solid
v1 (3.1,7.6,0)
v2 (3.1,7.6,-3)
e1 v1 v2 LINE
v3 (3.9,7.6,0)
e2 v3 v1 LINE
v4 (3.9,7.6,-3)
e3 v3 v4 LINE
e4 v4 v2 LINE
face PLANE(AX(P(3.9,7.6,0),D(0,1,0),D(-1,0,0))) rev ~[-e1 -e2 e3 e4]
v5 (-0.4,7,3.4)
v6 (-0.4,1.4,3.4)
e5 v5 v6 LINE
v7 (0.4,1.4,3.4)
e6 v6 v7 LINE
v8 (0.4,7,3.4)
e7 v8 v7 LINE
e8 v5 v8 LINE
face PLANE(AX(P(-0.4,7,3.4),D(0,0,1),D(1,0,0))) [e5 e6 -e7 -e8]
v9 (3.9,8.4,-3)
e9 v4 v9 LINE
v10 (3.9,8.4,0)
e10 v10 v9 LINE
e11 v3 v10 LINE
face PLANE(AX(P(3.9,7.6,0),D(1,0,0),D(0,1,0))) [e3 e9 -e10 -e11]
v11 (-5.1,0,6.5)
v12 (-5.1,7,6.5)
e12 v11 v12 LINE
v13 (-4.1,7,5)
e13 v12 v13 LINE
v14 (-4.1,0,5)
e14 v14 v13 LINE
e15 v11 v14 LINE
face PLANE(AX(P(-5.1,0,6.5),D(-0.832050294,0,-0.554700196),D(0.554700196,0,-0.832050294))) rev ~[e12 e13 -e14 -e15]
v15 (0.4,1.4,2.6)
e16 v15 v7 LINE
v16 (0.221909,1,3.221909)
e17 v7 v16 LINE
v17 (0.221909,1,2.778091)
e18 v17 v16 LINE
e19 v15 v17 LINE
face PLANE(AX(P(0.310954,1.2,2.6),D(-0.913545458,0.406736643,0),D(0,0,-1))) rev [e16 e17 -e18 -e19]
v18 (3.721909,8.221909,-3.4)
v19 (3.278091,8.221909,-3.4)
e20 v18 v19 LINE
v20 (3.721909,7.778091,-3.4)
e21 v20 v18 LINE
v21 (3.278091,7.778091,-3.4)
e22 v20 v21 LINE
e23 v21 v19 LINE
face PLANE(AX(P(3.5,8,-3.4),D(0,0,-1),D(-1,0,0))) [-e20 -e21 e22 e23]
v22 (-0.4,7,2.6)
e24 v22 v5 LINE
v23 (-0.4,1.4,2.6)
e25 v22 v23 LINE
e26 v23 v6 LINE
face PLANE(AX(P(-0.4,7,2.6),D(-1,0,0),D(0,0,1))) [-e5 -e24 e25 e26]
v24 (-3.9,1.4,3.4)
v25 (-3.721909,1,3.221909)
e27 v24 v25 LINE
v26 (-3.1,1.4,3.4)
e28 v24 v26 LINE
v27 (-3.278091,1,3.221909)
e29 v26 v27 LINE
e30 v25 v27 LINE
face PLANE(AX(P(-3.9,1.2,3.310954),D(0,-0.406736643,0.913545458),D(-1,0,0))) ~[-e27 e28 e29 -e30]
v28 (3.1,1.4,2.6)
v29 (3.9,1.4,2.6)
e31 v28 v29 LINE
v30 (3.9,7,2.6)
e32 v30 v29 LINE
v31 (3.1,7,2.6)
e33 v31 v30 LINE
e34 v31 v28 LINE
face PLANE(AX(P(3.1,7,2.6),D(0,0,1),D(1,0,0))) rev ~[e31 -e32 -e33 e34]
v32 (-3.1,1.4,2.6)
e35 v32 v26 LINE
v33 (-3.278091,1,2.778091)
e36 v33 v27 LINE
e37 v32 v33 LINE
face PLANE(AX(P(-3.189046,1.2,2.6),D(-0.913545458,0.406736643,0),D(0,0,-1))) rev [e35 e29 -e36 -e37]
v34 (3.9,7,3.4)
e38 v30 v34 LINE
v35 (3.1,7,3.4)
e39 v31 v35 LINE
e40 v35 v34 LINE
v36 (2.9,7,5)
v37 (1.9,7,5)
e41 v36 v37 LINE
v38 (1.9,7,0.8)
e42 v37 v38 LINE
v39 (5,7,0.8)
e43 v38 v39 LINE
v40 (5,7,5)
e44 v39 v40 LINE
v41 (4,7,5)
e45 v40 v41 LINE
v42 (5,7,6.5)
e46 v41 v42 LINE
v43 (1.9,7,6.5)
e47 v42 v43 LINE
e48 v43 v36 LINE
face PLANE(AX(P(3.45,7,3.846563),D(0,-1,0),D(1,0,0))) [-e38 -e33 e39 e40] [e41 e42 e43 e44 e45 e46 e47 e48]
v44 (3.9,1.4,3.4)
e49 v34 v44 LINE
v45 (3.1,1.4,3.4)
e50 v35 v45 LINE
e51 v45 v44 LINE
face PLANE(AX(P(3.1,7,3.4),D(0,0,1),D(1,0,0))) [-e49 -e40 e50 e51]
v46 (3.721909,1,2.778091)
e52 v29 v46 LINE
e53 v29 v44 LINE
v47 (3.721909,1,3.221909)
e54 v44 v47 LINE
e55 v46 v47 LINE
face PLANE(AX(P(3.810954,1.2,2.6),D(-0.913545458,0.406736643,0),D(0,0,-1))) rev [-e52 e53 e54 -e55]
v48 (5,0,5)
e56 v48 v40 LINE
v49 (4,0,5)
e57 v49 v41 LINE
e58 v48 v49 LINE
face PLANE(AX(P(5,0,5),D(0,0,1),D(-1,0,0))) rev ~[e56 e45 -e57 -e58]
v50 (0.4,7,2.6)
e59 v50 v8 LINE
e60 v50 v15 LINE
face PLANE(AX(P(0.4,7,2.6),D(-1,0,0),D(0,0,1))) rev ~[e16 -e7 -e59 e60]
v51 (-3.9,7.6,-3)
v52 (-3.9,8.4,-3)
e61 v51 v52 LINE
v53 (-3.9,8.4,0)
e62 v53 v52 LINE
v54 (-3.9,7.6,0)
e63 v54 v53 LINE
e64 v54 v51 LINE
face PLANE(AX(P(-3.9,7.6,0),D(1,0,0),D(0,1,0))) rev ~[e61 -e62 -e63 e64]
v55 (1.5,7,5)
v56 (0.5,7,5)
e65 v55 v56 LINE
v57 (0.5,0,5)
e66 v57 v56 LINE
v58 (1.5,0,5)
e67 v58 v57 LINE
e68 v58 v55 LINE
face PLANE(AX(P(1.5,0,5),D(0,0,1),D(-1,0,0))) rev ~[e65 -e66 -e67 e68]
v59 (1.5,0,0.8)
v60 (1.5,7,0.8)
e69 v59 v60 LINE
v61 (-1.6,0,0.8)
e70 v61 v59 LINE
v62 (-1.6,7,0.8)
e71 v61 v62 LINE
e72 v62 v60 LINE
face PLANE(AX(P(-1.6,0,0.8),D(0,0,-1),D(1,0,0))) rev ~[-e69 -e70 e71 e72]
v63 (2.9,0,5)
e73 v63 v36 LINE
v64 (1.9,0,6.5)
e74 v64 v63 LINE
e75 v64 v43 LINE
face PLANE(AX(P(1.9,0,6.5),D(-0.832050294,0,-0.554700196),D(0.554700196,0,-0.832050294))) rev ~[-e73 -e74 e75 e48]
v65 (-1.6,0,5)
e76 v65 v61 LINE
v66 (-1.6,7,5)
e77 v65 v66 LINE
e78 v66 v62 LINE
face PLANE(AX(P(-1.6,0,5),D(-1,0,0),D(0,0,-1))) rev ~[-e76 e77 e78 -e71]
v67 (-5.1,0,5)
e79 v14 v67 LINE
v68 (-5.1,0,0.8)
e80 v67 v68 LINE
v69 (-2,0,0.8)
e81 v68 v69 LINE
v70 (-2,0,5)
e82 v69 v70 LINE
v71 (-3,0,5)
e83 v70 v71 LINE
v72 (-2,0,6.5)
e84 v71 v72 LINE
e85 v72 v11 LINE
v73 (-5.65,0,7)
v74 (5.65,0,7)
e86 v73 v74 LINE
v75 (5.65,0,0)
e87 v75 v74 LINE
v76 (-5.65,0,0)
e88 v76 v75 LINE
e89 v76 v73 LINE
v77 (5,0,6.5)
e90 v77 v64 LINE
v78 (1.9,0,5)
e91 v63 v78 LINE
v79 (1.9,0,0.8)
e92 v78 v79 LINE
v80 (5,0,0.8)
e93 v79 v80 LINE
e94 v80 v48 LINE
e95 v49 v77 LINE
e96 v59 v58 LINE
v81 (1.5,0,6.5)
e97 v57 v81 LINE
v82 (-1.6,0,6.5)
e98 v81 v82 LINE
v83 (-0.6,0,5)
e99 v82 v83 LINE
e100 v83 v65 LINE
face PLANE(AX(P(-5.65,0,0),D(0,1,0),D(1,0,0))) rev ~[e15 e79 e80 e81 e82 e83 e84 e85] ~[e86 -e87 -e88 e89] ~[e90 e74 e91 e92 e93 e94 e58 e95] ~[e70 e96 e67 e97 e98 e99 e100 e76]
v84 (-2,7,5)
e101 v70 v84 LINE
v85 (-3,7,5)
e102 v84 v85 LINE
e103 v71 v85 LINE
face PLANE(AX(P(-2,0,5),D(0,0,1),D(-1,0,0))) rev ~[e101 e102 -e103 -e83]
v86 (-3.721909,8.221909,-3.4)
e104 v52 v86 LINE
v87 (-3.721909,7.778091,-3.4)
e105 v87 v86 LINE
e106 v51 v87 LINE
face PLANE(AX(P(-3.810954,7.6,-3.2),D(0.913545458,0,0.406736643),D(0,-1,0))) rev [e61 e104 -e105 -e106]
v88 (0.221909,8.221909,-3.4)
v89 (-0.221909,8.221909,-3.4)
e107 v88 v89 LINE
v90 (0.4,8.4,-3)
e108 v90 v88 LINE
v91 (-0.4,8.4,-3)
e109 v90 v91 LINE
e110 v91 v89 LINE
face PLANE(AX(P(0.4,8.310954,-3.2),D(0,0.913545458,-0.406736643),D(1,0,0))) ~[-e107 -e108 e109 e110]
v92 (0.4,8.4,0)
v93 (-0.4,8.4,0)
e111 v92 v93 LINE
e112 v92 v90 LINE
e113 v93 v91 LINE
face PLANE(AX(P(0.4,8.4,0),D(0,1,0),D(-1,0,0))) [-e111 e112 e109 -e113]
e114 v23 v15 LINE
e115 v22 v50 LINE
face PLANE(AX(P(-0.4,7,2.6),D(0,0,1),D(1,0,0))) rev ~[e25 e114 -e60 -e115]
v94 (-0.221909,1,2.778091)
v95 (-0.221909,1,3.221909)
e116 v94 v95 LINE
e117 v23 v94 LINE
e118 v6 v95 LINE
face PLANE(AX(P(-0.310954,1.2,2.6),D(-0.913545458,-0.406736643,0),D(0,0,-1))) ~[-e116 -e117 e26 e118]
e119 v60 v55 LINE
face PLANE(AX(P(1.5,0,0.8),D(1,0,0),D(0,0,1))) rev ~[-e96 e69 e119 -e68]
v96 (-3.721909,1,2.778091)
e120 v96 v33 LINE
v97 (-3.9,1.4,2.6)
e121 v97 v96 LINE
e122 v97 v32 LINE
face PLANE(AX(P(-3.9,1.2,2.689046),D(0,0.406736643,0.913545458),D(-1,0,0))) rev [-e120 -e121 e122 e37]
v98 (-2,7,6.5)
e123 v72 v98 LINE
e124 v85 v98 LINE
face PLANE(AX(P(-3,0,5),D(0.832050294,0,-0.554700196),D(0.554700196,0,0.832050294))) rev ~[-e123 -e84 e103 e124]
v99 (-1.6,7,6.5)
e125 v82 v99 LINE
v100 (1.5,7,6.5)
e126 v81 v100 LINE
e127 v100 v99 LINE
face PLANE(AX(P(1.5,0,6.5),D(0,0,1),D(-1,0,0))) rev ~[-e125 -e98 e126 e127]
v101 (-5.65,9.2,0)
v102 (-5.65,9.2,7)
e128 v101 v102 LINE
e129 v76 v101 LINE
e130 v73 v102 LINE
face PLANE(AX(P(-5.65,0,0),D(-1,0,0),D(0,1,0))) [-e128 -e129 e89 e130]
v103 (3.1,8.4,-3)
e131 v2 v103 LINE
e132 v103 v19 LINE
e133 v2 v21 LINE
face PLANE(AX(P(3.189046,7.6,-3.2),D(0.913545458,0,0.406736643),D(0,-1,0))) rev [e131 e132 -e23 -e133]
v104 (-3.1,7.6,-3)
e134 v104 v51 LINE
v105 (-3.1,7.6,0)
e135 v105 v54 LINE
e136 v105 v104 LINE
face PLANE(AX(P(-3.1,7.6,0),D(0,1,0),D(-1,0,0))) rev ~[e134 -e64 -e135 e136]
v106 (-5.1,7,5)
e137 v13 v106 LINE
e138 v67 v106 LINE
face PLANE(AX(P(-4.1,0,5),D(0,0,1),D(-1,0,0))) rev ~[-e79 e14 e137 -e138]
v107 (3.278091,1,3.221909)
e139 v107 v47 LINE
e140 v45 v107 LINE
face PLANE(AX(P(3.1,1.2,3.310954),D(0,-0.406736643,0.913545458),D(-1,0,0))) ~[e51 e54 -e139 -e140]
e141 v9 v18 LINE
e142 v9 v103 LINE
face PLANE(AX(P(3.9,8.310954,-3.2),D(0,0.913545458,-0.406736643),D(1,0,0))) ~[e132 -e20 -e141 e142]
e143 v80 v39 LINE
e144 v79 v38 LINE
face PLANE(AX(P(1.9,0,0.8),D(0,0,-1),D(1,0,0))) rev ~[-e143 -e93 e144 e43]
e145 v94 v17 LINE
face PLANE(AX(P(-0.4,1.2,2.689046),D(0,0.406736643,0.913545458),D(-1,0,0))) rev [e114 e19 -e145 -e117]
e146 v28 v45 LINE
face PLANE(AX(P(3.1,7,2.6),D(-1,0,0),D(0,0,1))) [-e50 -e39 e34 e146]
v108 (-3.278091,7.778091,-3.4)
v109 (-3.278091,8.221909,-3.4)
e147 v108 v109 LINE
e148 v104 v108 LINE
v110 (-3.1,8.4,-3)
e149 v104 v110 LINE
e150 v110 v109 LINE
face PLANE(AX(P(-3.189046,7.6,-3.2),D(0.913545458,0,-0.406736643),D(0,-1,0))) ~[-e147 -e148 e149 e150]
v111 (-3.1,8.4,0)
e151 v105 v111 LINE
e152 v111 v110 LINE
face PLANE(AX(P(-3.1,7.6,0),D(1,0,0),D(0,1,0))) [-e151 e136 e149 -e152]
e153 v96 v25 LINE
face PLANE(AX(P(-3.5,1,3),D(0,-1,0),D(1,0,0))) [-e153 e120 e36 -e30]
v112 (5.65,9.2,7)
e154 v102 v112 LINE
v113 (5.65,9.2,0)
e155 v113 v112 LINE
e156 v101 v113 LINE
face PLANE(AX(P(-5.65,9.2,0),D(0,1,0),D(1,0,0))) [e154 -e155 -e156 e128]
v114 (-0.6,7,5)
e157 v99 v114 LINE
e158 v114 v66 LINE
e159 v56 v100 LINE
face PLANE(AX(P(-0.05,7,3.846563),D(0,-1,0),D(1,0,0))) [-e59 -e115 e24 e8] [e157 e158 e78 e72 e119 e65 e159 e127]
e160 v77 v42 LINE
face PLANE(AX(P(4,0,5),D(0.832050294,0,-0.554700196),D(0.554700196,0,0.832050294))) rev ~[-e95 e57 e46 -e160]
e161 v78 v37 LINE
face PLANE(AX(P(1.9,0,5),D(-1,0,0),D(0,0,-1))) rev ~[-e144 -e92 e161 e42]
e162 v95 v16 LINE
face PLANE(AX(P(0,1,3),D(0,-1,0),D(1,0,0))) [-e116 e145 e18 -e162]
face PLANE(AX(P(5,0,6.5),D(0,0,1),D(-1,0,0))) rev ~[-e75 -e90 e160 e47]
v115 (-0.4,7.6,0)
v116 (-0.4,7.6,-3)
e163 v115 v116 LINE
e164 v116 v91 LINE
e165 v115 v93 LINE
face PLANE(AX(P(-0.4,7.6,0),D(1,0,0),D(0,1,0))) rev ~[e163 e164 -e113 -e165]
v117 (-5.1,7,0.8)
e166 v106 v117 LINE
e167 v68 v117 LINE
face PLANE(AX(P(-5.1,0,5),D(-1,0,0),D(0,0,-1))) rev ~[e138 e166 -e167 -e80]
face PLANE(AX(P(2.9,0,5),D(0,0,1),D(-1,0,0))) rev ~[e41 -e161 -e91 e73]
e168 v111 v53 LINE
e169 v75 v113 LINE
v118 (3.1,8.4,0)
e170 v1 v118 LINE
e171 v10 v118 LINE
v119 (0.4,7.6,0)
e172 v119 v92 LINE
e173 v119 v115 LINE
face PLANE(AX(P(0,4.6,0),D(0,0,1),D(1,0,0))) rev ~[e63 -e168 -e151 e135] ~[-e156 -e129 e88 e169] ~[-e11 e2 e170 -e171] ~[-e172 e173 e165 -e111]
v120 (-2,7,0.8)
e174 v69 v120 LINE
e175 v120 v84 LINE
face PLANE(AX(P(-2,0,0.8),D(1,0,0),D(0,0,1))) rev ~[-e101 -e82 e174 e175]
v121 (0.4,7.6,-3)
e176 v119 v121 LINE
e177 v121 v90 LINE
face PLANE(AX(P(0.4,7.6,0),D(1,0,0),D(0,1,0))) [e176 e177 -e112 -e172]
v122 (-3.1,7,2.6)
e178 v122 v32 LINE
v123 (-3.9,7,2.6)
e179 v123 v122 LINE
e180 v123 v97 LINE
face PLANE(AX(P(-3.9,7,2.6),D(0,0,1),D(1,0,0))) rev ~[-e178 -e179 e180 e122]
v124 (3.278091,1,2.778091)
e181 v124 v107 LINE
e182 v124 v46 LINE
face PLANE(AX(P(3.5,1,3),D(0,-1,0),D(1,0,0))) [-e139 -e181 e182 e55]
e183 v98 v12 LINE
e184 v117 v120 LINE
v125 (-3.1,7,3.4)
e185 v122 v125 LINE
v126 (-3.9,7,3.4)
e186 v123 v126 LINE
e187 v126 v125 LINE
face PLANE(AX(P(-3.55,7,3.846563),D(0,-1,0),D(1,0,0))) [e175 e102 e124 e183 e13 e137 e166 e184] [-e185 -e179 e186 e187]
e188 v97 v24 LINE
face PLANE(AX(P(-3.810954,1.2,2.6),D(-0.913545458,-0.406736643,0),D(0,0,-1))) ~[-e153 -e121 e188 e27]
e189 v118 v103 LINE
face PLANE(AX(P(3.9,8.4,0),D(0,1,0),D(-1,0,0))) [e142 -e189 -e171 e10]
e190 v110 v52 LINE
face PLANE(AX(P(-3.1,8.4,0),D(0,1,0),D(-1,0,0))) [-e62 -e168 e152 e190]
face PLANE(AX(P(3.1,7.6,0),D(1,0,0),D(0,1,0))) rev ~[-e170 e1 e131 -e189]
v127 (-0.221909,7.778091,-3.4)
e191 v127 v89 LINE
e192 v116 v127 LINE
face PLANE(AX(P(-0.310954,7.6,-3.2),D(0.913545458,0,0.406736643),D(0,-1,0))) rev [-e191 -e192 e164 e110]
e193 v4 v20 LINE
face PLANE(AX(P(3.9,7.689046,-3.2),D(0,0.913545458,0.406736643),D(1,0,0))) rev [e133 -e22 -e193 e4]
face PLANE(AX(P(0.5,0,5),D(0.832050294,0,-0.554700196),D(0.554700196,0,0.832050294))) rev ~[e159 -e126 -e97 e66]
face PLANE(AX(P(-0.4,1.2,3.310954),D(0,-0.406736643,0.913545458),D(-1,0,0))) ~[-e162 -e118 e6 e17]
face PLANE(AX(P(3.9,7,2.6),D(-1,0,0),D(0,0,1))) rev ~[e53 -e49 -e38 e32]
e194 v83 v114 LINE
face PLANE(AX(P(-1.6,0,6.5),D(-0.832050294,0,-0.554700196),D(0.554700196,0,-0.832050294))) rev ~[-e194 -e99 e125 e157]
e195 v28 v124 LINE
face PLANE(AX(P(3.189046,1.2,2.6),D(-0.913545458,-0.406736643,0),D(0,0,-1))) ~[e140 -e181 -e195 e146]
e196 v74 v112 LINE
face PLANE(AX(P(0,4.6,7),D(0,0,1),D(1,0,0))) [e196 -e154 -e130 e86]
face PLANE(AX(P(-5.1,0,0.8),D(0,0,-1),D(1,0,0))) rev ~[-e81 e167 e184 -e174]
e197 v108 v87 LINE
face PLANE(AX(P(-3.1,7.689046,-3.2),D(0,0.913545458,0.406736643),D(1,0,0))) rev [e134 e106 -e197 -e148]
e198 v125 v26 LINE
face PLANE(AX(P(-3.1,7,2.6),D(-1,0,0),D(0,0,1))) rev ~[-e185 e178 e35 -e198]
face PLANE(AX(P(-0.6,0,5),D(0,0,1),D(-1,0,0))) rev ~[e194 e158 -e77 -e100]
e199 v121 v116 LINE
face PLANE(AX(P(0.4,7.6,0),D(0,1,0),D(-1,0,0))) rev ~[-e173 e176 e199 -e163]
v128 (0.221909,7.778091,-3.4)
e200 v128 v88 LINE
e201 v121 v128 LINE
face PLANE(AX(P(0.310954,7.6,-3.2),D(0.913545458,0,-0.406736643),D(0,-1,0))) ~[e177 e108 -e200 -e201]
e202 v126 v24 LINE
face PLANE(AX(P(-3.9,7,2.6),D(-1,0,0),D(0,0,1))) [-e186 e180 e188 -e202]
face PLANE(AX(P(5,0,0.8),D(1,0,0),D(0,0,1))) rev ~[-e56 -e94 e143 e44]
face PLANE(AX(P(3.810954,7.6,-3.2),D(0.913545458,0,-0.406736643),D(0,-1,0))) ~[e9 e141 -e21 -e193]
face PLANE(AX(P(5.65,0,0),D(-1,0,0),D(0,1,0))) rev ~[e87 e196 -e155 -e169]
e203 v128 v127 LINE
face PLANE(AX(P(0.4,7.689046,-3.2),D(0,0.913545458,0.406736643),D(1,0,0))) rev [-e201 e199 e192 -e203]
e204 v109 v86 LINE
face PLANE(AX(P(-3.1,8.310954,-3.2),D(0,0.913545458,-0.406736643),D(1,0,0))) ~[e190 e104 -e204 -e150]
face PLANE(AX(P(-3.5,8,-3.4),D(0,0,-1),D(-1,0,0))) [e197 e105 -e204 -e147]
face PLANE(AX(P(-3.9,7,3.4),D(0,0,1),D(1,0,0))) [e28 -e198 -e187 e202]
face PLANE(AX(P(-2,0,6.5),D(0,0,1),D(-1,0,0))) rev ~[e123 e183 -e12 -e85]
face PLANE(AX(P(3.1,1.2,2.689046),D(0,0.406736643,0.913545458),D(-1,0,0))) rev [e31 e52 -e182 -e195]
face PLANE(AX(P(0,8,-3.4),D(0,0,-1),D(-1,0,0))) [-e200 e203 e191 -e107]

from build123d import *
from OCP.BRepFilletAPI import BRepFilletAPI_MakeChamfer

# Parameters (mm, degrees)
SKETCH_1_W                          = 11.3
SKETCH_1_H                          = 9.2
EXTRUDE_1_DEPTH                     = 7
SKETCH_2_W                          = 0.8
SKETCH_2_H                          = 0.8
EXTRUDE_2_DEPTH                     = 3.4
CHAMFER_1_SIZE                      = 0.4
CHAMFER_1_SIZE2                     = 0.178091474
CUT_EXTRUDE_1_DEPTH                 = 7
PATTERN_LINEAR_1_COUNT              = 3
PATTERN_LINEAR_1_PITCH              = 3.5
CHAMFER_1_OF_PATTERN_LINEAR_1_SIZE  = 0.4
CHAMFER_1_OF_PATTERN_LINEAR_1_SIZE2 = 0.178091474
PATTERN_LINEAR_2_COUNT              = 3
PATTERN_LINEAR_2_PITCH              = 3.5
SKETCH_4_W                          = 0.8
SKETCH_4_H                          = 0.8
EXTRUDE_3_DEPTH                     = 6
CHAMFER_2_SIZE                      = 0.4
CHAMFER_2_SIZE2                     = 0.178091474
PATTERN_LINEAR_3_COUNT              = 3
PATTERN_LINEAR_3_PITCH              = 3.5
CHAMFER_2_OF_PATTERN_LINEAR_3_SIZE  = 0.4
CHAMFER_2_OF_PATTERN_LINEAR_3_SIZE2 = 0.178091474


with BuildPart() as part:
    # Эскиз1 → Бобышка-Вытянуть1 (new body)
    with BuildSketch(Plane.XY):
        with Locations((0, 4.6)):
            Rectangle(SKETCH_1_W, SKETCH_1_H)
    extrude(amount=EXTRUDE_1_DEPTH)

    # Эскиз2 → Бобышка-Вытянуть2 (add)
    with BuildSketch(Plane(origin=(0, 0, 0), x_dir=(-1, 0, 0), z_dir=(0, 0, -1))):
        with Locations((-3.5, 8)):
            Rectangle(SKETCH_2_W, SKETCH_2_H)
    extrude_2 = extrude(amount=EXTRUDE_2_DEPTH)

    # Фаска1: one chamfer whose edges measure the first distance from different faces: ONE call of the kernel's chamfer builder (chamfer() names one face for all edges)
    chamfer_1_edges_1 = [part.edges().sort_by_distance(p)[0] for p in [
        (3.1, 8, -3.4),
    ]]
    chamfer_1_side_1 = [part.faces().sort_by_distance(p)[0] for p in [
        (3.1, 8, -1.7),
    ]]
    chamfer_1_edges_2 = [part.edges().sort_by_distance(p)[0] for p in [
        (3.5, 8.4, -3.4),
    ]]
    chamfer_1_side_2 = [part.faces().sort_by_distance(p)[0] for p in [
        (3.5, 8.4, -1.7),
    ]]
    chamfer_1_edges_3 = [part.edges().sort_by_distance(p)[0] for p in [
        (3.9, 8, -3.4),
    ]]
    chamfer_1_side_3 = [part.faces().sort_by_distance(p)[0] for p in [
        (3.9, 8, -1.7),
    ]]
    chamfer_1_edges_4 = [part.edges().sort_by_distance(p)[0] for p in [
        (3.5, 7.6, -3.4),
    ]]
    chamfer_1_side_4 = [part.faces().sort_by_distance(p)[0] for p in [
        (3.5, 7.6, -1.7),
    ]]
    chamfer_1 = BRepFilletAPI_MakeChamfer(part.part.solid().wrapped)
    for e in chamfer_1_edges_1:
        chamfer_1.Add(CHAMFER_1_SIZE, CHAMFER_1_SIZE2, e.wrapped, chamfer_1_side_1[0].wrapped)  # the first distance lies on this face
    for e in chamfer_1_edges_2:
        chamfer_1.Add(CHAMFER_1_SIZE, CHAMFER_1_SIZE2, e.wrapped, chamfer_1_side_2[0].wrapped)  # the first distance lies on this face
    for e in chamfer_1_edges_3:
        chamfer_1.Add(CHAMFER_1_SIZE, CHAMFER_1_SIZE2, e.wrapped, chamfer_1_side_3[0].wrapped)  # the first distance lies on this face
    for e in chamfer_1_edges_4:
        chamfer_1.Add(CHAMFER_1_SIZE, CHAMFER_1_SIZE2, e.wrapped, chamfer_1_side_4[0].wrapped)  # the first distance lies on this face
    add(Compound.cast(chamfer_1.Shape()), mode=Mode.REPLACE)

    # Эскиз3 → Вырез-Вытянуть1 (cut)
    with BuildSketch(Plane.XZ):
        Polygon((1.9, 0.8), (5, 0.8), (5, 5), (4, 5), (5, 6.5), (1.9, 6.5), (2.9, 5), (1.9, 5), align=None)
    cut_extrude_1 = extrude(amount=-CUT_EXTRUDE_1_DEPTH, mode=Mode.SUBTRACT)

    # Линейный массив1: Бобышка-Вытянуть2 ×3
    with Locations(*[(-i * PATTERN_LINEAR_1_PITCH, 0, 0) for i in range(1, PATTERN_LINEAR_1_COUNT)]):
        add(extrude_2)

    # Фаска1 of Линейный массив1: one chamfer whose edges measure the first distance from different faces: ONE call of the kernel's chamfer builder (chamfer() names one face for all edges)
    chamfer_1_of_pattern_linear_1_edges_1 = [part.edges().sort_by_distance(p)[0] for p in [
        (-0.4, 8, -3.4),
    ]]
    chamfer_1_of_pattern_linear_1_side_1 = [part.faces().sort_by_distance(p)[0] for p in [
        (-0.4, 8, -1.7),
    ]]
    chamfer_1_of_pattern_linear_1_edges_2 = [part.edges().sort_by_distance(p)[0] for p in [
        (0, 8.4, -3.4),
    ]]
    chamfer_1_of_pattern_linear_1_side_2 = [part.faces().sort_by_distance(p)[0] for p in [
        (0, 8.4, -1.7),
    ]]
    chamfer_1_of_pattern_linear_1_edges_3 = [part.edges().sort_by_distance(p)[0] for p in [
        (0.4, 8, -3.4),
    ]]
    chamfer_1_of_pattern_linear_1_side_3 = [part.faces().sort_by_distance(p)[0] for p in [
        (0.4, 8, -1.7),
    ]]
    chamfer_1_of_pattern_linear_1_edges_4 = [part.edges().sort_by_distance(p)[0] for p in [
        (0, 7.6, -3.4),
    ]]
    chamfer_1_of_pattern_linear_1_side_4 = [part.faces().sort_by_distance(p)[0] for p in [
        (0, 7.6, -1.7),
    ]]
    chamfer_1_of_pattern_linear_1_edges_5 = [part.edges().sort_by_distance(p)[0] for p in [
        (-3.9, 8, -3.4),
    ]]
    chamfer_1_of_pattern_linear_1_side_5 = [part.faces().sort_by_distance(p)[0] for p in [
        (-3.9, 8, -1.7),
    ]]
    chamfer_1_of_pattern_linear_1_edges_6 = [part.edges().sort_by_distance(p)[0] for p in [
        (-3.5, 8.4, -3.4),
    ]]
    chamfer_1_of_pattern_linear_1_side_6 = [part.faces().sort_by_distance(p)[0] for p in [
        (-3.5, 8.4, -1.7),
    ]]
    chamfer_1_of_pattern_linear_1_edges_7 = [part.edges().sort_by_distance(p)[0] for p in [
        (-3.1, 8, -3.4),
    ]]
    chamfer_1_of_pattern_linear_1_side_7 = [part.faces().sort_by_distance(p)[0] for p in [
        (-3.1, 8, -1.7),
    ]]
    chamfer_1_of_pattern_linear_1_edges_8 = [part.edges().sort_by_distance(p)[0] for p in [
        (-3.5, 7.6, -3.4),
    ]]
    chamfer_1_of_pattern_linear_1_side_8 = [part.faces().sort_by_distance(p)[0] for p in [
        (-3.5, 7.6, -1.7),
    ]]
    chamfer_1_of_pattern_linear_1 = BRepFilletAPI_MakeChamfer(part.part.solid().wrapped)
    for e in chamfer_1_of_pattern_linear_1_edges_1:
        chamfer_1_of_pattern_linear_1.Add(CHAMFER_1_OF_PATTERN_LINEAR_1_SIZE, CHAMFER_1_OF_PATTERN_LINEAR_1_SIZE2, e.wrapped, chamfer_1_of_pattern_linear_1_side_1[0].wrapped)  # the first distance lies on this face
    for e in chamfer_1_of_pattern_linear_1_edges_2:
        chamfer_1_of_pattern_linear_1.Add(CHAMFER_1_OF_PATTERN_LINEAR_1_SIZE, CHAMFER_1_OF_PATTERN_LINEAR_1_SIZE2, e.wrapped, chamfer_1_of_pattern_linear_1_side_2[0].wrapped)  # the first distance lies on this face
    for e in chamfer_1_of_pattern_linear_1_edges_3:
        chamfer_1_of_pattern_linear_1.Add(CHAMFER_1_OF_PATTERN_LINEAR_1_SIZE, CHAMFER_1_OF_PATTERN_LINEAR_1_SIZE2, e.wrapped, chamfer_1_of_pattern_linear_1_side_3[0].wrapped)  # the first distance lies on this face
    for e in chamfer_1_of_pattern_linear_1_edges_4:
        chamfer_1_of_pattern_linear_1.Add(CHAMFER_1_OF_PATTERN_LINEAR_1_SIZE, CHAMFER_1_OF_PATTERN_LINEAR_1_SIZE2, e.wrapped, chamfer_1_of_pattern_linear_1_side_4[0].wrapped)  # the first distance lies on this face
    for e in chamfer_1_of_pattern_linear_1_edges_5:
        chamfer_1_of_pattern_linear_1.Add(CHAMFER_1_OF_PATTERN_LINEAR_1_SIZE, CHAMFER_1_OF_PATTERN_LINEAR_1_SIZE2, e.wrapped, chamfer_1_of_pattern_linear_1_side_5[0].wrapped)  # the first distance lies on this face
    for e in chamfer_1_of_pattern_linear_1_edges_6:
        chamfer_1_of_pattern_linear_1.Add(CHAMFER_1_OF_PATTERN_LINEAR_1_SIZE, CHAMFER_1_OF_PATTERN_LINEAR_1_SIZE2, e.wrapped, chamfer_1_of_pattern_linear_1_side_6[0].wrapped)  # the first distance lies on this face
    for e in chamfer_1_of_pattern_linear_1_edges_7:
        chamfer_1_of_pattern_linear_1.Add(CHAMFER_1_OF_PATTERN_LINEAR_1_SIZE, CHAMFER_1_OF_PATTERN_LINEAR_1_SIZE2, e.wrapped, chamfer_1_of_pattern_linear_1_side_7[0].wrapped)  # the first distance lies on this face
    for e in chamfer_1_of_pattern_linear_1_edges_8:
        chamfer_1_of_pattern_linear_1.Add(CHAMFER_1_OF_PATTERN_LINEAR_1_SIZE, CHAMFER_1_OF_PATTERN_LINEAR_1_SIZE2, e.wrapped, chamfer_1_of_pattern_linear_1_side_8[0].wrapped)  # the first distance lies on this face
    add(Compound.cast(chamfer_1_of_pattern_linear_1.Shape()), mode=Mode.REPLACE)

    # Линейный массив2: Вырез-Вытянуть1 ×3
    with Locations(*[(-i * PATTERN_LINEAR_2_PITCH, 0, 0) for i in range(1, PATTERN_LINEAR_2_COUNT)]):
        add(cut_extrude_1, mode=Mode.SUBTRACT)

    # Эскиз4 → Бобышка-Вытянуть3 (add)
    with BuildSketch(Plane.XZ.offset(-7)):
        with Locations((3.5, 3)):
            Rectangle(SKETCH_4_W, SKETCH_4_H)
    extrude_3 = extrude(amount=EXTRUDE_3_DEPTH)

    # Фаска2: one chamfer whose edges measure the first distance from different faces: ONE call of the kernel's chamfer builder (chamfer() names one face for all edges)
    chamfer_2_edges_1 = [part.edges().sort_by_distance(p)[0] for p in [
        (3.9, 1, 3),
    ]]
    chamfer_2_side_1 = [part.faces().sort_by_distance(p)[0] for p in [
        (3.9, 4, 3),
    ]]
    chamfer_2_edges_2 = [part.edges().sort_by_distance(p)[0] for p in [
        (3.5, 1, 3.4),
    ]]
    chamfer_2_side_2 = [part.faces().sort_by_distance(p)[0] for p in [
        (3.5, 4, 3.4),
    ]]
    chamfer_2_edges_3 = [part.edges().sort_by_distance(p)[0] for p in [
        (3.1, 1, 3),
    ]]
    chamfer_2_side_3 = [part.faces().sort_by_distance(p)[0] for p in [
        (3.1, 4, 3),
    ]]
    chamfer_2_edges_4 = [part.edges().sort_by_distance(p)[0] for p in [
        (3.5, 1, 2.6),
    ]]
    chamfer_2_side_4 = [part.faces().sort_by_distance(p)[0] for p in [
        (3.5, 4, 2.6),
    ]]
    chamfer_2 = BRepFilletAPI_MakeChamfer(part.part.solid().wrapped)
    for e in chamfer_2_edges_1:
        chamfer_2.Add(CHAMFER_2_SIZE, CHAMFER_2_SIZE2, e.wrapped, chamfer_2_side_1[0].wrapped)  # the first distance lies on this face
    for e in chamfer_2_edges_2:
        chamfer_2.Add(CHAMFER_2_SIZE, CHAMFER_2_SIZE2, e.wrapped, chamfer_2_side_2[0].wrapped)  # the first distance lies on this face
    for e in chamfer_2_edges_3:
        chamfer_2.Add(CHAMFER_2_SIZE, CHAMFER_2_SIZE2, e.wrapped, chamfer_2_side_3[0].wrapped)  # the first distance lies on this face
    for e in chamfer_2_edges_4:
        chamfer_2.Add(CHAMFER_2_SIZE, CHAMFER_2_SIZE2, e.wrapped, chamfer_2_side_4[0].wrapped)  # the first distance lies on this face
    add(Compound.cast(chamfer_2.Shape()), mode=Mode.REPLACE)

    # Линейный массив3: Бобышка-Вытянуть3 ×3
    with Locations(*[(-i * PATTERN_LINEAR_3_PITCH, 0, 0) for i in range(1, PATTERN_LINEAR_3_COUNT)]):
        add(extrude_3)

    # Фаска2 of Линейный массив3: one chamfer whose edges measure the first distance from different faces: ONE call of the kernel's chamfer builder (chamfer() names one face for all edges)
    chamfer_2_of_pattern_linear_3_edges_1 = [part.edges().sort_by_distance(p)[0] for p in [
        (0.4, 1, 3),
    ]]
    chamfer_2_of_pattern_linear_3_side_1 = [part.faces().sort_by_distance(p)[0] for p in [
        (0.4, 4, 3),
    ]]
    chamfer_2_of_pattern_linear_3_edges_2 = [part.edges().sort_by_distance(p)[0] for p in [
        (0, 1, 3.4),
    ]]
    chamfer_2_of_pattern_linear_3_side_2 = [part.faces().sort_by_distance(p)[0] for p in [
        (0, 4, 3.4),
    ]]
    chamfer_2_of_pattern_linear_3_edges_3 = [part.edges().sort_by_distance(p)[0] for p in [
        (-0.4, 1, 3),
    ]]
    chamfer_2_of_pattern_linear_3_side_3 = [part.faces().sort_by_distance(p)[0] for p in [
        (-0.4, 4, 3),
    ]]
    chamfer_2_of_pattern_linear_3_edges_4 = [part.edges().sort_by_distance(p)[0] for p in [
        (0, 1, 2.6),
    ]]
    chamfer_2_of_pattern_linear_3_side_4 = [part.faces().sort_by_distance(p)[0] for p in [
        (0, 4, 2.6),
    ]]
    chamfer_2_of_pattern_linear_3_edges_5 = [part.edges().sort_by_distance(p)[0] for p in [
        (-3.1, 1, 3),
    ]]
    chamfer_2_of_pattern_linear_3_side_5 = [part.faces().sort_by_distance(p)[0] for p in [
        (-3.1, 4, 3),
    ]]
    chamfer_2_of_pattern_linear_3_edges_6 = [part.edges().sort_by_distance(p)[0] for p in [
        (-3.5, 1, 3.4),
    ]]
    chamfer_2_of_pattern_linear_3_side_6 = [part.faces().sort_by_distance(p)[0] for p in [
        (-3.5, 4, 3.4),
    ]]
    chamfer_2_of_pattern_linear_3_edges_7 = [part.edges().sort_by_distance(p)[0] for p in [
        (-3.9, 1, 3),
    ]]
    chamfer_2_of_pattern_linear_3_side_7 = [part.faces().sort_by_distance(p)[0] for p in [
        (-3.9, 4, 3),
    ]]
    chamfer_2_of_pattern_linear_3_edges_8 = [part.edges().sort_by_distance(p)[0] for p in [
        (-3.5, 1, 2.6),
    ]]
    chamfer_2_of_pattern_linear_3_side_8 = [part.faces().sort_by_distance(p)[0] for p in [
        (-3.5, 4, 2.6),
    ]]
    chamfer_2_of_pattern_linear_3 = BRepFilletAPI_MakeChamfer(part.part.solid().wrapped)
    for e in chamfer_2_of_pattern_linear_3_edges_1:
        chamfer_2_of_pattern_linear_3.Add(CHAMFER_2_OF_PATTERN_LINEAR_3_SIZE, CHAMFER_2_OF_PATTERN_LINEAR_3_SIZE2, e.wrapped, chamfer_2_of_pattern_linear_3_side_1[0].wrapped)  # the first distance lies on this face
    for e in chamfer_2_of_pattern_linear_3_edges_2:
        chamfer_2_of_pattern_linear_3.Add(CHAMFER_2_OF_PATTERN_LINEAR_3_SIZE, CHAMFER_2_OF_PATTERN_LINEAR_3_SIZE2, e.wrapped, chamfer_2_of_pattern_linear_3_side_2[0].wrapped)  # the first distance lies on this face
    for e in chamfer_2_of_pattern_linear_3_edges_3:
        chamfer_2_of_pattern_linear_3.Add(CHAMFER_2_OF_PATTERN_LINEAR_3_SIZE, CHAMFER_2_OF_PATTERN_LINEAR_3_SIZE2, e.wrapped, chamfer_2_of_pattern_linear_3_side_3[0].wrapped)  # the first distance lies on this face
    for e in chamfer_2_of_pattern_linear_3_edges_4:
        chamfer_2_of_pattern_linear_3.Add(CHAMFER_2_OF_PATTERN_LINEAR_3_SIZE, CHAMFER_2_OF_PATTERN_LINEAR_3_SIZE2, e.wrapped, chamfer_2_of_pattern_linear_3_side_4[0].wrapped)  # the first distance lies on this face
    for e in chamfer_2_of_pattern_linear_3_edges_5:
        chamfer_2_of_pattern_linear_3.Add(CHAMFER_2_OF_PATTERN_LINEAR_3_SIZE, CHAMFER_2_OF_PATTERN_LINEAR_3_SIZE2, e.wrapped, chamfer_2_of_pattern_linear_3_side_5[0].wrapped)  # the first distance lies on this face
    for e in chamfer_2_of_pattern_linear_3_edges_6:
        chamfer_2_of_pattern_linear_3.Add(CHAMFER_2_OF_PATTERN_LINEAR_3_SIZE, CHAMFER_2_OF_PATTERN_LINEAR_3_SIZE2, e.wrapped, chamfer_2_of_pattern_linear_3_side_6[0].wrapped)  # the first distance lies on this face
    for e in chamfer_2_of_pattern_linear_3_edges_7:
        chamfer_2_of_pattern_linear_3.Add(CHAMFER_2_OF_PATTERN_LINEAR_3_SIZE, CHAMFER_2_OF_PATTERN_LINEAR_3_SIZE2, e.wrapped, chamfer_2_of_pattern_linear_3_side_7[0].wrapped)  # the first distance lies on this face
    for e in chamfer_2_of_pattern_linear_3_edges_8:
        chamfer_2_of_pattern_linear_3.Add(CHAMFER_2_OF_PATTERN_LINEAR_3_SIZE, CHAMFER_2_OF_PATTERN_LINEAR_3_SIZE2, e.wrapped, chamfer_2_of_pattern_linear_3_side_8[0].wrapped)  # the first distance lies on this face
    add(Compound.cast(chamfer_2_of_pattern_linear_3.Shape()), mode=Mode.REPLACE)


solid = part.part
